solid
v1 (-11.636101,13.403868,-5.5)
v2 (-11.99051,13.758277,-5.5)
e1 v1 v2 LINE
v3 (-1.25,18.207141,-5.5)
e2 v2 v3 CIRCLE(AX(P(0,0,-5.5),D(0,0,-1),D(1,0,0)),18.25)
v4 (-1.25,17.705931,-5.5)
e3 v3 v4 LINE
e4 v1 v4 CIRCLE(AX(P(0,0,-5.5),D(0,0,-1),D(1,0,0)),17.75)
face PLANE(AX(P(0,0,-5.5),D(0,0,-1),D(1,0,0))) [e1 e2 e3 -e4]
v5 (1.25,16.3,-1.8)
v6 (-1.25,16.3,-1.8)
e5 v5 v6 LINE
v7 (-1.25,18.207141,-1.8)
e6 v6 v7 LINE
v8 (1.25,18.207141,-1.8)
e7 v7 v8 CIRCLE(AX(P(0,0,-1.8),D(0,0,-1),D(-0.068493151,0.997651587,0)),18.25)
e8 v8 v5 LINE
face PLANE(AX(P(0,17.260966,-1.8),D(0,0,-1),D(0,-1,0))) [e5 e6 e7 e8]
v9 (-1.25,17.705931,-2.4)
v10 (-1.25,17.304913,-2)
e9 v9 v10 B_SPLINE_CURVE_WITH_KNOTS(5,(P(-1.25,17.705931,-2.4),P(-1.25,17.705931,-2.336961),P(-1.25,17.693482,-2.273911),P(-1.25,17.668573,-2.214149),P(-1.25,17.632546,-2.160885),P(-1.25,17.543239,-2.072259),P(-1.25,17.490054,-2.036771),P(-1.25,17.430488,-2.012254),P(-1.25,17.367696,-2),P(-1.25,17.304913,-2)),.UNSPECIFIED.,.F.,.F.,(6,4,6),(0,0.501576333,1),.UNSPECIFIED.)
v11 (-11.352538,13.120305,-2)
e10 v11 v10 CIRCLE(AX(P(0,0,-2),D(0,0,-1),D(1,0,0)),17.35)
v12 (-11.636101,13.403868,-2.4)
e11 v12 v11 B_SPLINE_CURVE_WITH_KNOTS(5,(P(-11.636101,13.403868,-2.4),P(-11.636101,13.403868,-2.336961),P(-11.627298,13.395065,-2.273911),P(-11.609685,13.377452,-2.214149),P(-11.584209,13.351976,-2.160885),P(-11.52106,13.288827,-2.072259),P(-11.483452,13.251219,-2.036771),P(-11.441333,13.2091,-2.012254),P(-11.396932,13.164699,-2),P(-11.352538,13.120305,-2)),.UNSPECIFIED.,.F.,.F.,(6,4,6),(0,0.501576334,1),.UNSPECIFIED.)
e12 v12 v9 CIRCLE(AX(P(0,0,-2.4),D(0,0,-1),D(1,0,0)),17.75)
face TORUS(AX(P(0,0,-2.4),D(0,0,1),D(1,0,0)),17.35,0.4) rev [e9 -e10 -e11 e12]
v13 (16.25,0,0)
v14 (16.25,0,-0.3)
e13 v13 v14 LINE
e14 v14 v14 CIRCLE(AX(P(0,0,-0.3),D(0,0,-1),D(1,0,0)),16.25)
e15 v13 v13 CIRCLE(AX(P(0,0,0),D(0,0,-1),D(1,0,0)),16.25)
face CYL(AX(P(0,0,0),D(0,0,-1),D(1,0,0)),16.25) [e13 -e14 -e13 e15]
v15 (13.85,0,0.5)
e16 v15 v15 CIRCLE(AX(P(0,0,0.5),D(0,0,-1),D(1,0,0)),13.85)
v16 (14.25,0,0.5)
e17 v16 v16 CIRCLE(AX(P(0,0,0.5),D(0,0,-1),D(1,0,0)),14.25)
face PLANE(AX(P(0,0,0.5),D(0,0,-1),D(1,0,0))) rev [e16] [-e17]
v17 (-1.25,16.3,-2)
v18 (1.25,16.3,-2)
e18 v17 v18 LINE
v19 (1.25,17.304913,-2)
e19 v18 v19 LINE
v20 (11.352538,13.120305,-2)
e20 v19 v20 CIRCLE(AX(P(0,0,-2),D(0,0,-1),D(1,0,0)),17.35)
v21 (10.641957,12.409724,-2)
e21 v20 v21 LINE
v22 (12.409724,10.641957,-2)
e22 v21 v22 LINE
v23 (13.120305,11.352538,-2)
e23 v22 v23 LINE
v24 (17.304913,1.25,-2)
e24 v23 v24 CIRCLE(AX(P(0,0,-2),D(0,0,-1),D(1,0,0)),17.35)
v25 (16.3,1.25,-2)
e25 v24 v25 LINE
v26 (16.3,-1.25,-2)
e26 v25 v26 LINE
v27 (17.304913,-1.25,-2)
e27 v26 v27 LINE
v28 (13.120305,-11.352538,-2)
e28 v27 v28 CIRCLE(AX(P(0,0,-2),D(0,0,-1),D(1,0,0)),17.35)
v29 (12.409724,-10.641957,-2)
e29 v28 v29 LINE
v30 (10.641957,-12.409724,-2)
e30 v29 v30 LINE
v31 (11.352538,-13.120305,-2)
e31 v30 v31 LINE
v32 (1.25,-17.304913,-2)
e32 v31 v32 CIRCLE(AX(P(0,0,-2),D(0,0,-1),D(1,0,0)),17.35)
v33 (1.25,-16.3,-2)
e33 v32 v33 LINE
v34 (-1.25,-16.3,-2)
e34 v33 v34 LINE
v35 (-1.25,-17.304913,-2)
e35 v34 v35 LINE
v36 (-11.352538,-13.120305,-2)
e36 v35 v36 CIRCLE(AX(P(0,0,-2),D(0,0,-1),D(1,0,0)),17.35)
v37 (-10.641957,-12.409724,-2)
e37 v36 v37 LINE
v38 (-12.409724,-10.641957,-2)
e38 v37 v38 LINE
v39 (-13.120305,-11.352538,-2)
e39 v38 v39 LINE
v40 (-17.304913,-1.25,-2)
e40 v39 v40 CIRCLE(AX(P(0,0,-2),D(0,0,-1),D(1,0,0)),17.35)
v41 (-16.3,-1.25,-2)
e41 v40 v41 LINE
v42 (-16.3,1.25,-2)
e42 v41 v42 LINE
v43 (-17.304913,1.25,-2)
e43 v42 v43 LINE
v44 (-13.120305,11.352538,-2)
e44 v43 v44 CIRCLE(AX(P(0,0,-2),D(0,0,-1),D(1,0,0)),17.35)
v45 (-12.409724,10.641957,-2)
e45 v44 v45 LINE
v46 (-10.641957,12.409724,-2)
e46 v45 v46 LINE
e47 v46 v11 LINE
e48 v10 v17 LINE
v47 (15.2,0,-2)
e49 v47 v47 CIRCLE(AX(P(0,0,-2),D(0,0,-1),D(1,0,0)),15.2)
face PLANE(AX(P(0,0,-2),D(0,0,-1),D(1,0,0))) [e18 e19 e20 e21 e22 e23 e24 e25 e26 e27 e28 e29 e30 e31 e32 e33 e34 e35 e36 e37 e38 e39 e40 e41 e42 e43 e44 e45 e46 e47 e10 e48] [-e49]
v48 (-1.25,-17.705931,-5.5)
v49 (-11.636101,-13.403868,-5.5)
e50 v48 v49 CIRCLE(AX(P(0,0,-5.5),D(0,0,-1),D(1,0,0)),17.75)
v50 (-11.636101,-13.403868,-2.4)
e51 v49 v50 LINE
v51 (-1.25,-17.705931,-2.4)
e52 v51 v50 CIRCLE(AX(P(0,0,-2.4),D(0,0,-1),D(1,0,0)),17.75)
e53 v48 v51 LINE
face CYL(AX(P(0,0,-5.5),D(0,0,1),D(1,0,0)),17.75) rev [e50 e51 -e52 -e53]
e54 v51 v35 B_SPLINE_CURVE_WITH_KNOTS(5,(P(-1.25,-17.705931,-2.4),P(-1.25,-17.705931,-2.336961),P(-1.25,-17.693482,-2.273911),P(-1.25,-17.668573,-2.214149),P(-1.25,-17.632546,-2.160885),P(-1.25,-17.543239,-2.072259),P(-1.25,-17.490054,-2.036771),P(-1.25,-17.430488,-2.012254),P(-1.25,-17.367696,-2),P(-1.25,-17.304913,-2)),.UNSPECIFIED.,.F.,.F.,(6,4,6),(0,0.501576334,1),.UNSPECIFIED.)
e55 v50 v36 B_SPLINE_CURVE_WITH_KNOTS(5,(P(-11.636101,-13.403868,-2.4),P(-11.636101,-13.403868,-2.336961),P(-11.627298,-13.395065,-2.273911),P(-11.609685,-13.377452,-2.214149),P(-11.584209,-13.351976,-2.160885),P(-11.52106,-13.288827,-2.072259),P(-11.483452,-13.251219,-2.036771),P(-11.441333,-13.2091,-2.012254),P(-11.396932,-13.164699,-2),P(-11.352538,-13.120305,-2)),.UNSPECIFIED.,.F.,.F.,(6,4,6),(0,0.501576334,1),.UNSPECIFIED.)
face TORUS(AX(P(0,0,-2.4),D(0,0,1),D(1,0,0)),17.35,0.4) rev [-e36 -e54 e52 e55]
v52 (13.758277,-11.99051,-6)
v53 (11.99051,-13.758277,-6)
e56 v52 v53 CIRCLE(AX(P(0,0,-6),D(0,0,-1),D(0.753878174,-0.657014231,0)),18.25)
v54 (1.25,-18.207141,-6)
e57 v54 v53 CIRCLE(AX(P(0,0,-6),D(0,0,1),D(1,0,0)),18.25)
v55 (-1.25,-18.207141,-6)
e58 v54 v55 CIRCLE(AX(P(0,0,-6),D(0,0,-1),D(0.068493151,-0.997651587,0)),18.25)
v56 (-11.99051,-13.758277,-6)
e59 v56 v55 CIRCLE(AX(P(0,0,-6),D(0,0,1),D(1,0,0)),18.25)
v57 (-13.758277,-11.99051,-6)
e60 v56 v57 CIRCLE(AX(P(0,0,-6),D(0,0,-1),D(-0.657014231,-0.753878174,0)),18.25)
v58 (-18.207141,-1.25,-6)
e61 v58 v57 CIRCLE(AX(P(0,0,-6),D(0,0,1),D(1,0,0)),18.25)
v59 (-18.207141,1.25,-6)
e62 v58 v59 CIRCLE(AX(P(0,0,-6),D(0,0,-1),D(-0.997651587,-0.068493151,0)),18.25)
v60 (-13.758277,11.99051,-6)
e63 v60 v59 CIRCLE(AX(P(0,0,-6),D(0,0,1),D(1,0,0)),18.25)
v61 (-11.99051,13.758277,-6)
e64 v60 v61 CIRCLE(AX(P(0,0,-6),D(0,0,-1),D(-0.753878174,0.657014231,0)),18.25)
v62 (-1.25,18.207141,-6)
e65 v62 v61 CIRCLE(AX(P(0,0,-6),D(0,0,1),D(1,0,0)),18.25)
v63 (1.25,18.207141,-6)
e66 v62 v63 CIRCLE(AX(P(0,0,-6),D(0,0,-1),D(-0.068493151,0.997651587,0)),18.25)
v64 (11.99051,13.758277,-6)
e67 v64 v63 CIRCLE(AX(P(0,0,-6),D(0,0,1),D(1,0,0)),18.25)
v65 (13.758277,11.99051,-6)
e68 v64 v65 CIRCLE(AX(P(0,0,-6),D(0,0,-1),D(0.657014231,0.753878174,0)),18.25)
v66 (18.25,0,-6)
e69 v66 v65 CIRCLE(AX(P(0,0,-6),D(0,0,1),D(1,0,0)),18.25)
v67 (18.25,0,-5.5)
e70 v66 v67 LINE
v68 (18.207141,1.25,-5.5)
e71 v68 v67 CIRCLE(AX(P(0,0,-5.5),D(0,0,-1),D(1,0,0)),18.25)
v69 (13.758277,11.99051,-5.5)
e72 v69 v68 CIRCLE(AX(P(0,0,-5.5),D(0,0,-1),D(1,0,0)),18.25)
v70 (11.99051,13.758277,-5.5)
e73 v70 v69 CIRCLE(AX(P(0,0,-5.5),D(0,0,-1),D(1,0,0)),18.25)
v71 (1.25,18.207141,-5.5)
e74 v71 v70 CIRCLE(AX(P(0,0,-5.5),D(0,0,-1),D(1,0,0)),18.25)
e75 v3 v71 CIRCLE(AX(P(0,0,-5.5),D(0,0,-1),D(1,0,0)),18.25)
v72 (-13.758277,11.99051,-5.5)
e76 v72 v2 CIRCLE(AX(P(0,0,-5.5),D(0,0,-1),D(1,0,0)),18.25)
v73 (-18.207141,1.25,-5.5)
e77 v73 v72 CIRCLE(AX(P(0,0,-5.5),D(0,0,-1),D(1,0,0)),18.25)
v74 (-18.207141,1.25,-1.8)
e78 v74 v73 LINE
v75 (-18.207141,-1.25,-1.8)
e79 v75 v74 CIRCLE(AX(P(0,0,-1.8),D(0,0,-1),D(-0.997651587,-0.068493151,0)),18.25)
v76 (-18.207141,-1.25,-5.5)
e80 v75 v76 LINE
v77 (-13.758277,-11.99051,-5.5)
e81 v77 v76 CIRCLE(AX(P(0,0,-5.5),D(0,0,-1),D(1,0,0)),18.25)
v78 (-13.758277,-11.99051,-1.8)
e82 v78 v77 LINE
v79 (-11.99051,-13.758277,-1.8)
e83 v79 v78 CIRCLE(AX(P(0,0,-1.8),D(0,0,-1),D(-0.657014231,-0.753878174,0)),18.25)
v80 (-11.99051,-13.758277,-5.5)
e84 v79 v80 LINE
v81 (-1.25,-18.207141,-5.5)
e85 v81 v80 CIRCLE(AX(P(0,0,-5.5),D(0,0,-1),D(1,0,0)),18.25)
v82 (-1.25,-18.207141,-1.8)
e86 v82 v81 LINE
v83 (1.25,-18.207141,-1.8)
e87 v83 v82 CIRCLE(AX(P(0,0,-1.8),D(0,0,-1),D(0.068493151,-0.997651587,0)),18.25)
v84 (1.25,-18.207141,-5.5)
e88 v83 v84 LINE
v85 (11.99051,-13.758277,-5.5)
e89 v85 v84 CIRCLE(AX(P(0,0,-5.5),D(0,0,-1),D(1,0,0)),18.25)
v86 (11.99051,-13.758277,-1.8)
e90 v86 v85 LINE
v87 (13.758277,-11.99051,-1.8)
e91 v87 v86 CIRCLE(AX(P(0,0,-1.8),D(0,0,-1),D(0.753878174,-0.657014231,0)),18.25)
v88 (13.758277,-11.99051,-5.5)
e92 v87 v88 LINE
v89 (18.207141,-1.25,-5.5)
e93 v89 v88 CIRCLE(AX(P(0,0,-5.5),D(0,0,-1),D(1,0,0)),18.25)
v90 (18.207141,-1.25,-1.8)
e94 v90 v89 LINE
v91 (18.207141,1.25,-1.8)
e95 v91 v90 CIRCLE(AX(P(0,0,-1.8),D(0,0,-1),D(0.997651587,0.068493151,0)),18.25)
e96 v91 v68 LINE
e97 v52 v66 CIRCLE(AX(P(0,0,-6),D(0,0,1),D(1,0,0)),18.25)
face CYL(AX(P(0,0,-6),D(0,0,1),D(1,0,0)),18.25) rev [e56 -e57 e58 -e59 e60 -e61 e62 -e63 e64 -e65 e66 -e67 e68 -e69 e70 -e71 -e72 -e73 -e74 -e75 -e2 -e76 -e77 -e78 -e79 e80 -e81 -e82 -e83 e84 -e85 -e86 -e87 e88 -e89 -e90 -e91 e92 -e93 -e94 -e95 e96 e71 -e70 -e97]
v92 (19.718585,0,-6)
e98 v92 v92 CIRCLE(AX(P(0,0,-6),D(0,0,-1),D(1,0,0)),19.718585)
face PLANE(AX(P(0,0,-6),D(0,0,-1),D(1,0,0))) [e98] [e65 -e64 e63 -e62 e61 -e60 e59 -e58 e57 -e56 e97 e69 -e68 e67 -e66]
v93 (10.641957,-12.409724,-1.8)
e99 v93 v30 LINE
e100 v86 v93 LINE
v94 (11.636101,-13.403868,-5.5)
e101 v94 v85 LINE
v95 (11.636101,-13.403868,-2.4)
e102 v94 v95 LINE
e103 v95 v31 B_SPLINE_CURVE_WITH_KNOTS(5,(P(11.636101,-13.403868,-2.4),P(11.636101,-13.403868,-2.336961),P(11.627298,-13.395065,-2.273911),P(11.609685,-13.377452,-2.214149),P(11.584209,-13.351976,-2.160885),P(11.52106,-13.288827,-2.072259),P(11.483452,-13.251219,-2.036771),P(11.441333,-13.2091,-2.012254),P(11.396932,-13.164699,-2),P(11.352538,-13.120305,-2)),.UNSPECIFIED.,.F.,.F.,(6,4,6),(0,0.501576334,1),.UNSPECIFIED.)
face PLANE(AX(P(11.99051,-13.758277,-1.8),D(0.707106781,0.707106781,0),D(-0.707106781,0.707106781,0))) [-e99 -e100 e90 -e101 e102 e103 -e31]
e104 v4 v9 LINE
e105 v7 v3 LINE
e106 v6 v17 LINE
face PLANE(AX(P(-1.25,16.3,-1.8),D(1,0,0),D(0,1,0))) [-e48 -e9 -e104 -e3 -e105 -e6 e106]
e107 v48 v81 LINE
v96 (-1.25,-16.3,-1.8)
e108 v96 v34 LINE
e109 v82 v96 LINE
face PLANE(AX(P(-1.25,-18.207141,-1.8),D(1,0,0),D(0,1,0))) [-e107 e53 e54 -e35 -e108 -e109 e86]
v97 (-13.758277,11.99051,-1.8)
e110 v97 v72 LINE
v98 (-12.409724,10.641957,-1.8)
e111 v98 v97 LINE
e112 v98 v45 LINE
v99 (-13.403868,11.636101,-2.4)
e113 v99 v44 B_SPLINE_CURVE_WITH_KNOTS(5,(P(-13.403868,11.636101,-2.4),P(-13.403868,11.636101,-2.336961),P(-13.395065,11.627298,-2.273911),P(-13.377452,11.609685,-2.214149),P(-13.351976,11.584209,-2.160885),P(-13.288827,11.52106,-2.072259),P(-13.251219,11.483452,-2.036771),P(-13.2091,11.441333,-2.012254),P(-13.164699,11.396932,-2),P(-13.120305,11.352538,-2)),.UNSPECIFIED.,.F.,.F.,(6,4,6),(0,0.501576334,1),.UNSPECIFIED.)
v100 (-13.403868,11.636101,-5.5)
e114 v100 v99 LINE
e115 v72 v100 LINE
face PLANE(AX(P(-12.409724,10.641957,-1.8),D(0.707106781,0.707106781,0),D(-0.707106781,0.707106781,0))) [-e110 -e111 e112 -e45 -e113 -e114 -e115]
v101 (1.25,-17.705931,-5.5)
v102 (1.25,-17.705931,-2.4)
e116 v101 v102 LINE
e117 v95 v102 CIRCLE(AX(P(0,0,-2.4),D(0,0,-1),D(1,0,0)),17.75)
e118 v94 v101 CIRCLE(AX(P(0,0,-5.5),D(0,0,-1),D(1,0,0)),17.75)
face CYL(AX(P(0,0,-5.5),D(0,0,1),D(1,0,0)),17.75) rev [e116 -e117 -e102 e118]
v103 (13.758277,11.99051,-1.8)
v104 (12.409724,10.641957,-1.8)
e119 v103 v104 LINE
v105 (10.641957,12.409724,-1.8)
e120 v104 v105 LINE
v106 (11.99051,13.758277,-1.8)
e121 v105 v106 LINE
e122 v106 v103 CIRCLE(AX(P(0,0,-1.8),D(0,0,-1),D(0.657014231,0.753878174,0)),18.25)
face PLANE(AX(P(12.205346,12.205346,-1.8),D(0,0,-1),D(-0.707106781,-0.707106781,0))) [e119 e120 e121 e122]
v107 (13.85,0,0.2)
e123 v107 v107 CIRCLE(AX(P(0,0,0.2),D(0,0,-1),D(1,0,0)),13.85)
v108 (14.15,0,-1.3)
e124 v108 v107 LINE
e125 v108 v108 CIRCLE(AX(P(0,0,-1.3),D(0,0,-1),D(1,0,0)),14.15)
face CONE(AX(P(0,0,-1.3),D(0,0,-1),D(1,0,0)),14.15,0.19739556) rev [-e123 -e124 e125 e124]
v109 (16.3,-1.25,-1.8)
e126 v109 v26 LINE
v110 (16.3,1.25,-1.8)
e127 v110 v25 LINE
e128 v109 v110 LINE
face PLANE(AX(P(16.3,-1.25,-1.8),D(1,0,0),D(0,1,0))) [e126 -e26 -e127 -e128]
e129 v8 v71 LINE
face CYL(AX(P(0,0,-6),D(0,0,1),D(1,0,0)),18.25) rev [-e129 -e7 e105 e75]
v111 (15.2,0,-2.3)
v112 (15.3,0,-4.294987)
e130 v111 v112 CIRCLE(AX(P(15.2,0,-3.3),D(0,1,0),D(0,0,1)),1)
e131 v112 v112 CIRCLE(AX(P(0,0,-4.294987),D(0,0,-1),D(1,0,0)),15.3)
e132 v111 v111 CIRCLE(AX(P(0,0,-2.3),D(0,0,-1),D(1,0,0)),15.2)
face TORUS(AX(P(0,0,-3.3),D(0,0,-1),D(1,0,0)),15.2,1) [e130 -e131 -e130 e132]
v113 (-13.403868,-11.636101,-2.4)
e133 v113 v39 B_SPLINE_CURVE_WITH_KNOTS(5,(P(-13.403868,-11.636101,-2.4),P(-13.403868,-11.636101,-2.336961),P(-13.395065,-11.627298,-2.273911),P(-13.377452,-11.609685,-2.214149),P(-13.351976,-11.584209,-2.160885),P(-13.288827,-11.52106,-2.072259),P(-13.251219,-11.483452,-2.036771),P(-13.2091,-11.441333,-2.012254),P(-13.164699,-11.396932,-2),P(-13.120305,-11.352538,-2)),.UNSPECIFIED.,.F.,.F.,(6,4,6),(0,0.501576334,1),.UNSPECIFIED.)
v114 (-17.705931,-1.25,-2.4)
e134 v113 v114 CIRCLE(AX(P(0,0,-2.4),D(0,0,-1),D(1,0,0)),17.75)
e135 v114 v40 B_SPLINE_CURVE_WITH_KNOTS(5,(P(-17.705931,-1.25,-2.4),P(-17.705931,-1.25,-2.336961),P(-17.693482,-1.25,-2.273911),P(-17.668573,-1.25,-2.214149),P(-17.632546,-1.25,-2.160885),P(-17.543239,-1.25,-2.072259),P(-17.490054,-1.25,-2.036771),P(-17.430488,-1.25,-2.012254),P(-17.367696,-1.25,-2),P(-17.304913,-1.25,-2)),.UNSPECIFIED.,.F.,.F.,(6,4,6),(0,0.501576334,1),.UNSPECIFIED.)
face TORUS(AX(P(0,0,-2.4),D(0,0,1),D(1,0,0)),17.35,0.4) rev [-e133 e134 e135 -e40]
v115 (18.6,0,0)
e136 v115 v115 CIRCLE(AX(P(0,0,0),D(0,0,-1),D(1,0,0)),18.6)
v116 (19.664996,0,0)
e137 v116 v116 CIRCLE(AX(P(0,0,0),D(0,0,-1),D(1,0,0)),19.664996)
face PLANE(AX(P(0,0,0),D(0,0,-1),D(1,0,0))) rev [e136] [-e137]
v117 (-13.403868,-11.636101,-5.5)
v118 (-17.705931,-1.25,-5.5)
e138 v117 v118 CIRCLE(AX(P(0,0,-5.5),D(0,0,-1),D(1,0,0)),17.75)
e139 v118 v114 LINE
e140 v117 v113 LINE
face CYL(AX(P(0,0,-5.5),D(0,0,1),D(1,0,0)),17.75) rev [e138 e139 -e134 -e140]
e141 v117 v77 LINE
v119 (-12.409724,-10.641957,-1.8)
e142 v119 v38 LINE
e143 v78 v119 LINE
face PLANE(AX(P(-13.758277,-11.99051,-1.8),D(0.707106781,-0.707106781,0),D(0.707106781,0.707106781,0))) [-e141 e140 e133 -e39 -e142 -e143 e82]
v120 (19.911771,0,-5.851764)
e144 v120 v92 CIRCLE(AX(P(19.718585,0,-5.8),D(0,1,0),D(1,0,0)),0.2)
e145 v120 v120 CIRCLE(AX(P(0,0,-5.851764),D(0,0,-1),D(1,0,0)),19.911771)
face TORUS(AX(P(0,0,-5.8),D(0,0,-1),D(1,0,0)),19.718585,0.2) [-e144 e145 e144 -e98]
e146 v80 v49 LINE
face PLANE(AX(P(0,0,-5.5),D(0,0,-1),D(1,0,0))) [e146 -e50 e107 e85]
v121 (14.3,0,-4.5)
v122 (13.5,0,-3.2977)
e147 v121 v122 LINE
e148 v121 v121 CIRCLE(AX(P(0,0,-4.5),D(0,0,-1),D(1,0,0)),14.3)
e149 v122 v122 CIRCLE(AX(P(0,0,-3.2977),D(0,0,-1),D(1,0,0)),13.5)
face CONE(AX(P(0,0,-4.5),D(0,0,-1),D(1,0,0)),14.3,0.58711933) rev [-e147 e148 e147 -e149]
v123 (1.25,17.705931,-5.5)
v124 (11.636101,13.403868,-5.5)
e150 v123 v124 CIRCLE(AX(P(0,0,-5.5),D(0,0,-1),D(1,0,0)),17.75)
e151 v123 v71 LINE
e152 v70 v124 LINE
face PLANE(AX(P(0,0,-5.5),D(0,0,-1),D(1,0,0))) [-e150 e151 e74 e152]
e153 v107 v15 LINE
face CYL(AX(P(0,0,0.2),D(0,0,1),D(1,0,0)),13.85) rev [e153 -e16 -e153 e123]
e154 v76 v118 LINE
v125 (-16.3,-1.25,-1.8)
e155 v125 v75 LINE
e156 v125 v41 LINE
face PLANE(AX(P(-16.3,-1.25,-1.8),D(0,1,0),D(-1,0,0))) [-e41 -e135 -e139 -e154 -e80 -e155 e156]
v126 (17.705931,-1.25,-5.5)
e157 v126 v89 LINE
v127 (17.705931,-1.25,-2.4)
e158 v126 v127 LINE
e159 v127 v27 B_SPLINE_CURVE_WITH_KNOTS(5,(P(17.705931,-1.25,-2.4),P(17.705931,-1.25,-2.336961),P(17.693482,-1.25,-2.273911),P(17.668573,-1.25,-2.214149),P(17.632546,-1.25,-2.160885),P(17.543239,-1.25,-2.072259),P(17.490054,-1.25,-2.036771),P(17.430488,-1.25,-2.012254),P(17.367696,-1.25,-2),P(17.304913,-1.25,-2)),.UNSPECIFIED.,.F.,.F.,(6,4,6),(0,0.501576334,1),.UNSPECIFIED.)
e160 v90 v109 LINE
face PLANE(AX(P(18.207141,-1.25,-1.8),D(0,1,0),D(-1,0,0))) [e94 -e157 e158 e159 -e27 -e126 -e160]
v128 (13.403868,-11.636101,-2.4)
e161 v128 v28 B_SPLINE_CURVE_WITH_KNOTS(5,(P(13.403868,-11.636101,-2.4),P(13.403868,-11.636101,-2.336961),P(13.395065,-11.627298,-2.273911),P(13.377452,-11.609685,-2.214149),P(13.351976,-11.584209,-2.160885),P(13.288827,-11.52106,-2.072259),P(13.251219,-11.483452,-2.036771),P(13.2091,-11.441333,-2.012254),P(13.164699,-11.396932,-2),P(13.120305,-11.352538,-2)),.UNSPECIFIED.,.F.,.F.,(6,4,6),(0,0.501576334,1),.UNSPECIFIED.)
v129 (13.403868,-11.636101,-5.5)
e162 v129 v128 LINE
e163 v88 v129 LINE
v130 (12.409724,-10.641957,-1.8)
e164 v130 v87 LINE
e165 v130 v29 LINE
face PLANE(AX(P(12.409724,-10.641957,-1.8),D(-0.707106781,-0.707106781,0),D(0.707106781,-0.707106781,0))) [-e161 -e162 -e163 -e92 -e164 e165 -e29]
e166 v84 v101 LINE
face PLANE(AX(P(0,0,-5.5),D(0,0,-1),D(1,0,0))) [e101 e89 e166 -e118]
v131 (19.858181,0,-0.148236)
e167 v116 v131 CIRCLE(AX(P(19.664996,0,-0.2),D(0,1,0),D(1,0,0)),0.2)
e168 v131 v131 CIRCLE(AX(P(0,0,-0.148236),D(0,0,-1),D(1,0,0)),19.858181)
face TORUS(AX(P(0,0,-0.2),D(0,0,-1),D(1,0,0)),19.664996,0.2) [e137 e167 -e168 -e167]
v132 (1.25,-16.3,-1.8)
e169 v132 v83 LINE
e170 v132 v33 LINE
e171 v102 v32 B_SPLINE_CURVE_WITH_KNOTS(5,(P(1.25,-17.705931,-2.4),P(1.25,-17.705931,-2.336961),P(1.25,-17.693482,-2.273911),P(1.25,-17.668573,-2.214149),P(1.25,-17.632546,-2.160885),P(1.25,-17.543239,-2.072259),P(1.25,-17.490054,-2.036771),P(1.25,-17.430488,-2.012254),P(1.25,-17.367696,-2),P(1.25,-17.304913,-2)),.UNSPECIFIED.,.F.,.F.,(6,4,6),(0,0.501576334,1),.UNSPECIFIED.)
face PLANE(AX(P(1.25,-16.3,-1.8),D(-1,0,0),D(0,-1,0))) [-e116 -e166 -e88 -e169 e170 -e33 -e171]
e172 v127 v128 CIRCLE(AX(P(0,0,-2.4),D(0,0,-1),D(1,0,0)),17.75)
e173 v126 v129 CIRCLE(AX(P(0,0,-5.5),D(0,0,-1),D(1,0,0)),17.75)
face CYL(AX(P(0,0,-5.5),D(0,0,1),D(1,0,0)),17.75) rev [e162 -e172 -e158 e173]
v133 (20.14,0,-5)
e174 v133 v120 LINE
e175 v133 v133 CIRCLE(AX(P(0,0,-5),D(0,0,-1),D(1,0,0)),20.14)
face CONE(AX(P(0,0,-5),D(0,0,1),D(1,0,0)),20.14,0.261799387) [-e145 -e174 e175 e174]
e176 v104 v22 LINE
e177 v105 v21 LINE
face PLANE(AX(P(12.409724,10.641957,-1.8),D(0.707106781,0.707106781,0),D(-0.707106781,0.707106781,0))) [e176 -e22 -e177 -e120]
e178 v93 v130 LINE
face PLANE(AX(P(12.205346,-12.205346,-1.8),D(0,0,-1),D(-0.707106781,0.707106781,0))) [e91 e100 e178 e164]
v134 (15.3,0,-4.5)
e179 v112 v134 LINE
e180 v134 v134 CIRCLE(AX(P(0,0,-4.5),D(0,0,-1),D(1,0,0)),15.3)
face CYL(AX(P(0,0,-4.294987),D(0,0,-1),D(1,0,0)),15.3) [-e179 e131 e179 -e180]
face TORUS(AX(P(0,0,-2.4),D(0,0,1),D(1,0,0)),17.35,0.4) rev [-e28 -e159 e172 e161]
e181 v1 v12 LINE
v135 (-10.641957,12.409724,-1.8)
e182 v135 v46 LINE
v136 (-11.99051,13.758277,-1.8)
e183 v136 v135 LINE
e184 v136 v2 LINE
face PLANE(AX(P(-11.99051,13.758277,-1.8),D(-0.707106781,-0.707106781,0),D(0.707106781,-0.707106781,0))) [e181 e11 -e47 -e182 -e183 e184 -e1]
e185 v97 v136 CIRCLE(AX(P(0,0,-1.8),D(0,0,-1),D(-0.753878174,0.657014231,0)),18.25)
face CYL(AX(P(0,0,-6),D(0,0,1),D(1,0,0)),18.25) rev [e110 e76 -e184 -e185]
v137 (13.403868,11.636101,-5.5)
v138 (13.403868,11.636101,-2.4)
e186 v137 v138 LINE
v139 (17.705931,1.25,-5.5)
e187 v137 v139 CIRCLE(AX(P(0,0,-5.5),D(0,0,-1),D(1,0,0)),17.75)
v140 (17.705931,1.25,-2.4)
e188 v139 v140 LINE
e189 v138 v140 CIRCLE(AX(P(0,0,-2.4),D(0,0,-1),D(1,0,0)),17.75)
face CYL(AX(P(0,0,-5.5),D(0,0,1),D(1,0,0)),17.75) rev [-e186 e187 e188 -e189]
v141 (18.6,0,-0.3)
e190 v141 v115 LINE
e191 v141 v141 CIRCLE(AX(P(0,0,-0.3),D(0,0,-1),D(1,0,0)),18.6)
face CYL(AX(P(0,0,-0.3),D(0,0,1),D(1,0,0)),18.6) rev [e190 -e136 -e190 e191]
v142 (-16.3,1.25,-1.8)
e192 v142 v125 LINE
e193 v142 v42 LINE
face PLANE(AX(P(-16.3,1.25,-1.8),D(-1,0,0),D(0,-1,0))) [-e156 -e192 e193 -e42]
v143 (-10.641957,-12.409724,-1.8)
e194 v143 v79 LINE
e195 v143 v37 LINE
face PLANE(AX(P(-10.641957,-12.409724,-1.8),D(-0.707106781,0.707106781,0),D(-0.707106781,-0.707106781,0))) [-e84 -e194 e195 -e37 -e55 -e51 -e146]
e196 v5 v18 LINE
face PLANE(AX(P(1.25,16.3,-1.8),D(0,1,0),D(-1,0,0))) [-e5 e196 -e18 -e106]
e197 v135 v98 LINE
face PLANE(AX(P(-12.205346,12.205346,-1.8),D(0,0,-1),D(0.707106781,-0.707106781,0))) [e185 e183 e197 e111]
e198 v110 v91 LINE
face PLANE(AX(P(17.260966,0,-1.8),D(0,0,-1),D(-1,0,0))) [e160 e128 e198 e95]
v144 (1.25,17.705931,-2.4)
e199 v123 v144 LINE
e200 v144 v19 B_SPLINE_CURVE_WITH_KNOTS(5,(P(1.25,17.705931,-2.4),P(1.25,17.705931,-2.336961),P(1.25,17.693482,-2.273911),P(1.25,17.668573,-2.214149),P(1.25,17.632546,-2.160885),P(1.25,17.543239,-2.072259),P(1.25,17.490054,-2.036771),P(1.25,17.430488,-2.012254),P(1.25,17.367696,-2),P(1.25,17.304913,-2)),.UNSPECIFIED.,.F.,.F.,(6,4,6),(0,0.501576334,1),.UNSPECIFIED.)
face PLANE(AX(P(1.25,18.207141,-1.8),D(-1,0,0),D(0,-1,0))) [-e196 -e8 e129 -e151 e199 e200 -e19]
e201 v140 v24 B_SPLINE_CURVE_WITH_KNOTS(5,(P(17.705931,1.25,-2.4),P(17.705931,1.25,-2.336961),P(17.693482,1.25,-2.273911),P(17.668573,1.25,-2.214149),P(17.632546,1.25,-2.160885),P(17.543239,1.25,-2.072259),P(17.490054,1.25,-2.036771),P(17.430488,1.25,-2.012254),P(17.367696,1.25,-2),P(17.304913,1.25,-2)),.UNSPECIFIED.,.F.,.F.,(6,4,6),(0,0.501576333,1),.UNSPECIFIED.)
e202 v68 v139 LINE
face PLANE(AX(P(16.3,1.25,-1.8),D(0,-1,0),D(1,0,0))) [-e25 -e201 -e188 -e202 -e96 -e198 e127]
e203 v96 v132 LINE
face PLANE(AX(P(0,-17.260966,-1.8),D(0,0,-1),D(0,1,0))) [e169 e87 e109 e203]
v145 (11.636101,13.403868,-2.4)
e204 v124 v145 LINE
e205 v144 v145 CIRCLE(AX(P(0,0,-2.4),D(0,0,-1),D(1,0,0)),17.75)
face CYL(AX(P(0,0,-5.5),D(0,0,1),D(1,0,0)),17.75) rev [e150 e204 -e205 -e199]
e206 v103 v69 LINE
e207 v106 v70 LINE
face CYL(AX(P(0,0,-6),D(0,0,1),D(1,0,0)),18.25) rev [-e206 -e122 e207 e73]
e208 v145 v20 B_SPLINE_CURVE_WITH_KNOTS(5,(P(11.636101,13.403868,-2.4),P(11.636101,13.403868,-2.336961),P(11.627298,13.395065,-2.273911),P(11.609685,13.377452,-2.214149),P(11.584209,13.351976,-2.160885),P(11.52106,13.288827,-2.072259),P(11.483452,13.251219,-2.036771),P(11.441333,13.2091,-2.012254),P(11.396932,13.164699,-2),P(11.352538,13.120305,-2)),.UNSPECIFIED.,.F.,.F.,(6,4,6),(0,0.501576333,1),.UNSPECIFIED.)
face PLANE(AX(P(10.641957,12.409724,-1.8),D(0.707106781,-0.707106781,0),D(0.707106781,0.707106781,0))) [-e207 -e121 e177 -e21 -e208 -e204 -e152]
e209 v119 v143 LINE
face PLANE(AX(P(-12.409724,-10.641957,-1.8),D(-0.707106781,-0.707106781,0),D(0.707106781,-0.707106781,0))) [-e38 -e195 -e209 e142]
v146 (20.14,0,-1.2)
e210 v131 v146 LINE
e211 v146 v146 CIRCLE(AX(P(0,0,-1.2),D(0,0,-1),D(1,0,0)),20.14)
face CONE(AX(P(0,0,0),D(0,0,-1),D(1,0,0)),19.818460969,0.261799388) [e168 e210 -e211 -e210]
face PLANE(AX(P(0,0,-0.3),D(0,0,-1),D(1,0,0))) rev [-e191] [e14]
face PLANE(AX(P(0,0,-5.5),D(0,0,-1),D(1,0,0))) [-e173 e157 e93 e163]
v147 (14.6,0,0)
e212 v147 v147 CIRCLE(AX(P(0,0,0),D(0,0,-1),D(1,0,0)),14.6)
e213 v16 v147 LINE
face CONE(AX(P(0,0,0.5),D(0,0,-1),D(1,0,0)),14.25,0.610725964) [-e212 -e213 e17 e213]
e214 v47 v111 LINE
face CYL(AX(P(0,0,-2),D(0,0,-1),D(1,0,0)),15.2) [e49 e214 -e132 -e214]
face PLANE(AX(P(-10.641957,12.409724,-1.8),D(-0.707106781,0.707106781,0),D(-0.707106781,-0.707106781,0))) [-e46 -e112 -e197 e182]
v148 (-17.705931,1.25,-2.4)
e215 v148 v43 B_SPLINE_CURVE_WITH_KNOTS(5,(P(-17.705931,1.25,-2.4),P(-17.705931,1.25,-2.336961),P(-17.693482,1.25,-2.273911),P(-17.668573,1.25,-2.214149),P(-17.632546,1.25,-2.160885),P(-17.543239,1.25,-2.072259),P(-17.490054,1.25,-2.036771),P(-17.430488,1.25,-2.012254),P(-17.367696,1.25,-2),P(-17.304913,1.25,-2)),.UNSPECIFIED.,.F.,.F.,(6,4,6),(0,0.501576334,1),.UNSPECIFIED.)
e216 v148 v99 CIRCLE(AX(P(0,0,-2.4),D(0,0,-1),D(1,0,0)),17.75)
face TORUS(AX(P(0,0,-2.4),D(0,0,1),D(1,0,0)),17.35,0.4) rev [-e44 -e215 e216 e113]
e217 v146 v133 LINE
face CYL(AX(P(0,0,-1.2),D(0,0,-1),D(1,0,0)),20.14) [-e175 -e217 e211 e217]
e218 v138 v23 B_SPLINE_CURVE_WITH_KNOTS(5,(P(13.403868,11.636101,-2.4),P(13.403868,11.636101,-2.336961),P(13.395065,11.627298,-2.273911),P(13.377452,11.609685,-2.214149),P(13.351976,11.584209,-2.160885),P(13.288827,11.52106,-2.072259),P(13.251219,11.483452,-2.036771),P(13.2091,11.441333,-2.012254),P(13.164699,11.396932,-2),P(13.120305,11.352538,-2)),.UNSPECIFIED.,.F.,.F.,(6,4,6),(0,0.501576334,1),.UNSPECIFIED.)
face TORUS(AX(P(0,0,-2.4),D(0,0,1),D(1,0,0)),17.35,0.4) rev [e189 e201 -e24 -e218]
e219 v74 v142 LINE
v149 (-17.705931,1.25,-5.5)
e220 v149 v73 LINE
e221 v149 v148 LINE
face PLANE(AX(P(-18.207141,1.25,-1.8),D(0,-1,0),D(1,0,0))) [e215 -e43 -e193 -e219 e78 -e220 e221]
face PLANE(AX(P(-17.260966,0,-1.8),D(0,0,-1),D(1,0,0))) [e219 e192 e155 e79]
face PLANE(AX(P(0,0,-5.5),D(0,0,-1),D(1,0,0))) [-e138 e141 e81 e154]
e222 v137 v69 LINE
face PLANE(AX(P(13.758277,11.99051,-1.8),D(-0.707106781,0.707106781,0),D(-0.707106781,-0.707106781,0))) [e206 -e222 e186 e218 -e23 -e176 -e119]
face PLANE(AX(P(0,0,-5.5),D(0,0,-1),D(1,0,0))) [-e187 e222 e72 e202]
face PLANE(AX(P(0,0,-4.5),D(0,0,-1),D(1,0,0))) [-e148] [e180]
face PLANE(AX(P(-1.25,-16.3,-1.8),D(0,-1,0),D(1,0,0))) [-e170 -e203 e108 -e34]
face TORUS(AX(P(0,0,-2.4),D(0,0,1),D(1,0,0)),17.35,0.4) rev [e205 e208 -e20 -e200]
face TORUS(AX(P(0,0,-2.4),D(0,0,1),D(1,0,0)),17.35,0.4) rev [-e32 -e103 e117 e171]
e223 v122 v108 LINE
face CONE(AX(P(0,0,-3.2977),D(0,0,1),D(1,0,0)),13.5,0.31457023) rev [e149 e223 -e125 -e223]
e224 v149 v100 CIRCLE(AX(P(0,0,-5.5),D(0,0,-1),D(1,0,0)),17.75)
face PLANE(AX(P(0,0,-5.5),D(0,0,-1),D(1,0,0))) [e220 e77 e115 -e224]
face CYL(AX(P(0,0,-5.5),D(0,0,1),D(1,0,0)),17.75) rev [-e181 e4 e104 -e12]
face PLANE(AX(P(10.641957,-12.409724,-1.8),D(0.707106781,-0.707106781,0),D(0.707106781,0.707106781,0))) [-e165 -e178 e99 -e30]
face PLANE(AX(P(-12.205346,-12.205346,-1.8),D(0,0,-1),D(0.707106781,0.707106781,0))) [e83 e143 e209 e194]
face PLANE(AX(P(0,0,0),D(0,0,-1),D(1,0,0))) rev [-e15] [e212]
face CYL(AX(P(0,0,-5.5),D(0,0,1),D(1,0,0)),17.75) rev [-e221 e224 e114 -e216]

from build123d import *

# Parameters (mm, degrees)
CUT_EXTRUDE1_START = -4.2
CUT_EXTRUDE1_DEPTH = 4.2
CIRPATTERN1_COUNT  = 8
FILLET1_R          = 0.2


with BuildPart() as part:
    # Sketch1 → Revolve1 (revolve)
    with BuildSketch(Plane(origin=(0, 0, 0), x_dir=(0, 0, -1), z_dir=(1, 0, 0)), mode=Mode.PRIVATE) as revolve1_sk:
        with BuildLine():
            Line((0, 14.6), (0, 16.25))
            Line((0, 16.25), (0.3, 16.25))
            Line((0.3, 16.25), (0.3, 18.6))
            Line((0.3, 18.6), (0, 18.6))
            Line((0, 18.6), (0, 19.818460969))
            Line((0, 19.818460969), (1.2, 20.14))
            Line((1.2, 20.14), (5, 20.14))
            Line((5, 20.14), (6, 19.872050808))
            Line((6, 19.872050808), (6, 18.25))
            Line((6, 18.25), (5.5, 18.25))
            Line((5.5, 18.25), (5.5, 17.75))
            Line((5.5, 17.75), (2.4, 17.75))
            ThreePointArc((2.4, 17.75), (2.117157288, 17.632842712), (2, 17.35))
            Line((2, 17.35), (2, 15.2))
            Line((2, 15.2), (2.3, 15.2))
            ThreePointArc((2.3, 15.2), (3.249937225, 16.198746073), (4.294987437, 15.3))
            Line((4.294987437, 15.3), (4.5, 15.3))
            Line((4.5, 15.3), (4.5, 14.3))
            Line((4.5, 14.3), (3.297700441, 13.5))
            Line((3.297700441, 13.5), (1.3, 14.15))
            Line((1.3, 14.15), (-0.2, 13.85))
            Line((-0.2, 13.85), (-0.5, 13.85))
            Line((-0.5, 13.85), (-0.5, 14.25))
            Line((-0.5, 14.25), (0, 14.6))
        make_face()
    revolve(revolve1_sk.sketch.rotate(Axis((0, 0, 0), (0, 0, -1)), 90), axis=Axis((0, 0, 0), (0, 0, -1)))

    # Sketch3 → Cut-Extrude1 (cut)
    with BuildSketch(Plane(origin=(0, 0, -6), x_dir=(-1, 0, 0), z_dir=(0, 0, -1)).offset(CUT_EXTRUDE1_START)):
        with BuildLine():
            Line((-18.207141456, -1.25), (-16.3, -1.25))
            Line((-16.3, -1.25), (-16.3, 1.25))
            Line((-16.3, 1.25), (-18.207141456, 1.25))
            ThreePointArc((-18.207141456, 1.25), (-18.25, 0), (-18.207141456, -1.25))
        make_face()
    cut_extrude1 = extrude(amount=CUT_EXTRUDE1_DEPTH, mode=Mode.SUBTRACT)

    # CirPattern1: Cut-Extrude1 ×8 about axis
    cirpattern1_axis = Axis((0, 0, 0), (0, 0, 1))
    for i in range(1, CIRPATTERN1_COUNT):
        add(cut_extrude1.rotate(cirpattern1_axis, i * 360 / CIRPATTERN1_COUNT), mode=Mode.SUBTRACT)

    # Fillet1
    fillet1_edges = [part.edges().sort_by_distance(p)[0] for p in [
        (-19.872050808, 0, -6),
        (-19.818460969, 0, 0),
    ]]
    fillet(fillet1_edges, radius=FILLET1_R)


solid = part.part
